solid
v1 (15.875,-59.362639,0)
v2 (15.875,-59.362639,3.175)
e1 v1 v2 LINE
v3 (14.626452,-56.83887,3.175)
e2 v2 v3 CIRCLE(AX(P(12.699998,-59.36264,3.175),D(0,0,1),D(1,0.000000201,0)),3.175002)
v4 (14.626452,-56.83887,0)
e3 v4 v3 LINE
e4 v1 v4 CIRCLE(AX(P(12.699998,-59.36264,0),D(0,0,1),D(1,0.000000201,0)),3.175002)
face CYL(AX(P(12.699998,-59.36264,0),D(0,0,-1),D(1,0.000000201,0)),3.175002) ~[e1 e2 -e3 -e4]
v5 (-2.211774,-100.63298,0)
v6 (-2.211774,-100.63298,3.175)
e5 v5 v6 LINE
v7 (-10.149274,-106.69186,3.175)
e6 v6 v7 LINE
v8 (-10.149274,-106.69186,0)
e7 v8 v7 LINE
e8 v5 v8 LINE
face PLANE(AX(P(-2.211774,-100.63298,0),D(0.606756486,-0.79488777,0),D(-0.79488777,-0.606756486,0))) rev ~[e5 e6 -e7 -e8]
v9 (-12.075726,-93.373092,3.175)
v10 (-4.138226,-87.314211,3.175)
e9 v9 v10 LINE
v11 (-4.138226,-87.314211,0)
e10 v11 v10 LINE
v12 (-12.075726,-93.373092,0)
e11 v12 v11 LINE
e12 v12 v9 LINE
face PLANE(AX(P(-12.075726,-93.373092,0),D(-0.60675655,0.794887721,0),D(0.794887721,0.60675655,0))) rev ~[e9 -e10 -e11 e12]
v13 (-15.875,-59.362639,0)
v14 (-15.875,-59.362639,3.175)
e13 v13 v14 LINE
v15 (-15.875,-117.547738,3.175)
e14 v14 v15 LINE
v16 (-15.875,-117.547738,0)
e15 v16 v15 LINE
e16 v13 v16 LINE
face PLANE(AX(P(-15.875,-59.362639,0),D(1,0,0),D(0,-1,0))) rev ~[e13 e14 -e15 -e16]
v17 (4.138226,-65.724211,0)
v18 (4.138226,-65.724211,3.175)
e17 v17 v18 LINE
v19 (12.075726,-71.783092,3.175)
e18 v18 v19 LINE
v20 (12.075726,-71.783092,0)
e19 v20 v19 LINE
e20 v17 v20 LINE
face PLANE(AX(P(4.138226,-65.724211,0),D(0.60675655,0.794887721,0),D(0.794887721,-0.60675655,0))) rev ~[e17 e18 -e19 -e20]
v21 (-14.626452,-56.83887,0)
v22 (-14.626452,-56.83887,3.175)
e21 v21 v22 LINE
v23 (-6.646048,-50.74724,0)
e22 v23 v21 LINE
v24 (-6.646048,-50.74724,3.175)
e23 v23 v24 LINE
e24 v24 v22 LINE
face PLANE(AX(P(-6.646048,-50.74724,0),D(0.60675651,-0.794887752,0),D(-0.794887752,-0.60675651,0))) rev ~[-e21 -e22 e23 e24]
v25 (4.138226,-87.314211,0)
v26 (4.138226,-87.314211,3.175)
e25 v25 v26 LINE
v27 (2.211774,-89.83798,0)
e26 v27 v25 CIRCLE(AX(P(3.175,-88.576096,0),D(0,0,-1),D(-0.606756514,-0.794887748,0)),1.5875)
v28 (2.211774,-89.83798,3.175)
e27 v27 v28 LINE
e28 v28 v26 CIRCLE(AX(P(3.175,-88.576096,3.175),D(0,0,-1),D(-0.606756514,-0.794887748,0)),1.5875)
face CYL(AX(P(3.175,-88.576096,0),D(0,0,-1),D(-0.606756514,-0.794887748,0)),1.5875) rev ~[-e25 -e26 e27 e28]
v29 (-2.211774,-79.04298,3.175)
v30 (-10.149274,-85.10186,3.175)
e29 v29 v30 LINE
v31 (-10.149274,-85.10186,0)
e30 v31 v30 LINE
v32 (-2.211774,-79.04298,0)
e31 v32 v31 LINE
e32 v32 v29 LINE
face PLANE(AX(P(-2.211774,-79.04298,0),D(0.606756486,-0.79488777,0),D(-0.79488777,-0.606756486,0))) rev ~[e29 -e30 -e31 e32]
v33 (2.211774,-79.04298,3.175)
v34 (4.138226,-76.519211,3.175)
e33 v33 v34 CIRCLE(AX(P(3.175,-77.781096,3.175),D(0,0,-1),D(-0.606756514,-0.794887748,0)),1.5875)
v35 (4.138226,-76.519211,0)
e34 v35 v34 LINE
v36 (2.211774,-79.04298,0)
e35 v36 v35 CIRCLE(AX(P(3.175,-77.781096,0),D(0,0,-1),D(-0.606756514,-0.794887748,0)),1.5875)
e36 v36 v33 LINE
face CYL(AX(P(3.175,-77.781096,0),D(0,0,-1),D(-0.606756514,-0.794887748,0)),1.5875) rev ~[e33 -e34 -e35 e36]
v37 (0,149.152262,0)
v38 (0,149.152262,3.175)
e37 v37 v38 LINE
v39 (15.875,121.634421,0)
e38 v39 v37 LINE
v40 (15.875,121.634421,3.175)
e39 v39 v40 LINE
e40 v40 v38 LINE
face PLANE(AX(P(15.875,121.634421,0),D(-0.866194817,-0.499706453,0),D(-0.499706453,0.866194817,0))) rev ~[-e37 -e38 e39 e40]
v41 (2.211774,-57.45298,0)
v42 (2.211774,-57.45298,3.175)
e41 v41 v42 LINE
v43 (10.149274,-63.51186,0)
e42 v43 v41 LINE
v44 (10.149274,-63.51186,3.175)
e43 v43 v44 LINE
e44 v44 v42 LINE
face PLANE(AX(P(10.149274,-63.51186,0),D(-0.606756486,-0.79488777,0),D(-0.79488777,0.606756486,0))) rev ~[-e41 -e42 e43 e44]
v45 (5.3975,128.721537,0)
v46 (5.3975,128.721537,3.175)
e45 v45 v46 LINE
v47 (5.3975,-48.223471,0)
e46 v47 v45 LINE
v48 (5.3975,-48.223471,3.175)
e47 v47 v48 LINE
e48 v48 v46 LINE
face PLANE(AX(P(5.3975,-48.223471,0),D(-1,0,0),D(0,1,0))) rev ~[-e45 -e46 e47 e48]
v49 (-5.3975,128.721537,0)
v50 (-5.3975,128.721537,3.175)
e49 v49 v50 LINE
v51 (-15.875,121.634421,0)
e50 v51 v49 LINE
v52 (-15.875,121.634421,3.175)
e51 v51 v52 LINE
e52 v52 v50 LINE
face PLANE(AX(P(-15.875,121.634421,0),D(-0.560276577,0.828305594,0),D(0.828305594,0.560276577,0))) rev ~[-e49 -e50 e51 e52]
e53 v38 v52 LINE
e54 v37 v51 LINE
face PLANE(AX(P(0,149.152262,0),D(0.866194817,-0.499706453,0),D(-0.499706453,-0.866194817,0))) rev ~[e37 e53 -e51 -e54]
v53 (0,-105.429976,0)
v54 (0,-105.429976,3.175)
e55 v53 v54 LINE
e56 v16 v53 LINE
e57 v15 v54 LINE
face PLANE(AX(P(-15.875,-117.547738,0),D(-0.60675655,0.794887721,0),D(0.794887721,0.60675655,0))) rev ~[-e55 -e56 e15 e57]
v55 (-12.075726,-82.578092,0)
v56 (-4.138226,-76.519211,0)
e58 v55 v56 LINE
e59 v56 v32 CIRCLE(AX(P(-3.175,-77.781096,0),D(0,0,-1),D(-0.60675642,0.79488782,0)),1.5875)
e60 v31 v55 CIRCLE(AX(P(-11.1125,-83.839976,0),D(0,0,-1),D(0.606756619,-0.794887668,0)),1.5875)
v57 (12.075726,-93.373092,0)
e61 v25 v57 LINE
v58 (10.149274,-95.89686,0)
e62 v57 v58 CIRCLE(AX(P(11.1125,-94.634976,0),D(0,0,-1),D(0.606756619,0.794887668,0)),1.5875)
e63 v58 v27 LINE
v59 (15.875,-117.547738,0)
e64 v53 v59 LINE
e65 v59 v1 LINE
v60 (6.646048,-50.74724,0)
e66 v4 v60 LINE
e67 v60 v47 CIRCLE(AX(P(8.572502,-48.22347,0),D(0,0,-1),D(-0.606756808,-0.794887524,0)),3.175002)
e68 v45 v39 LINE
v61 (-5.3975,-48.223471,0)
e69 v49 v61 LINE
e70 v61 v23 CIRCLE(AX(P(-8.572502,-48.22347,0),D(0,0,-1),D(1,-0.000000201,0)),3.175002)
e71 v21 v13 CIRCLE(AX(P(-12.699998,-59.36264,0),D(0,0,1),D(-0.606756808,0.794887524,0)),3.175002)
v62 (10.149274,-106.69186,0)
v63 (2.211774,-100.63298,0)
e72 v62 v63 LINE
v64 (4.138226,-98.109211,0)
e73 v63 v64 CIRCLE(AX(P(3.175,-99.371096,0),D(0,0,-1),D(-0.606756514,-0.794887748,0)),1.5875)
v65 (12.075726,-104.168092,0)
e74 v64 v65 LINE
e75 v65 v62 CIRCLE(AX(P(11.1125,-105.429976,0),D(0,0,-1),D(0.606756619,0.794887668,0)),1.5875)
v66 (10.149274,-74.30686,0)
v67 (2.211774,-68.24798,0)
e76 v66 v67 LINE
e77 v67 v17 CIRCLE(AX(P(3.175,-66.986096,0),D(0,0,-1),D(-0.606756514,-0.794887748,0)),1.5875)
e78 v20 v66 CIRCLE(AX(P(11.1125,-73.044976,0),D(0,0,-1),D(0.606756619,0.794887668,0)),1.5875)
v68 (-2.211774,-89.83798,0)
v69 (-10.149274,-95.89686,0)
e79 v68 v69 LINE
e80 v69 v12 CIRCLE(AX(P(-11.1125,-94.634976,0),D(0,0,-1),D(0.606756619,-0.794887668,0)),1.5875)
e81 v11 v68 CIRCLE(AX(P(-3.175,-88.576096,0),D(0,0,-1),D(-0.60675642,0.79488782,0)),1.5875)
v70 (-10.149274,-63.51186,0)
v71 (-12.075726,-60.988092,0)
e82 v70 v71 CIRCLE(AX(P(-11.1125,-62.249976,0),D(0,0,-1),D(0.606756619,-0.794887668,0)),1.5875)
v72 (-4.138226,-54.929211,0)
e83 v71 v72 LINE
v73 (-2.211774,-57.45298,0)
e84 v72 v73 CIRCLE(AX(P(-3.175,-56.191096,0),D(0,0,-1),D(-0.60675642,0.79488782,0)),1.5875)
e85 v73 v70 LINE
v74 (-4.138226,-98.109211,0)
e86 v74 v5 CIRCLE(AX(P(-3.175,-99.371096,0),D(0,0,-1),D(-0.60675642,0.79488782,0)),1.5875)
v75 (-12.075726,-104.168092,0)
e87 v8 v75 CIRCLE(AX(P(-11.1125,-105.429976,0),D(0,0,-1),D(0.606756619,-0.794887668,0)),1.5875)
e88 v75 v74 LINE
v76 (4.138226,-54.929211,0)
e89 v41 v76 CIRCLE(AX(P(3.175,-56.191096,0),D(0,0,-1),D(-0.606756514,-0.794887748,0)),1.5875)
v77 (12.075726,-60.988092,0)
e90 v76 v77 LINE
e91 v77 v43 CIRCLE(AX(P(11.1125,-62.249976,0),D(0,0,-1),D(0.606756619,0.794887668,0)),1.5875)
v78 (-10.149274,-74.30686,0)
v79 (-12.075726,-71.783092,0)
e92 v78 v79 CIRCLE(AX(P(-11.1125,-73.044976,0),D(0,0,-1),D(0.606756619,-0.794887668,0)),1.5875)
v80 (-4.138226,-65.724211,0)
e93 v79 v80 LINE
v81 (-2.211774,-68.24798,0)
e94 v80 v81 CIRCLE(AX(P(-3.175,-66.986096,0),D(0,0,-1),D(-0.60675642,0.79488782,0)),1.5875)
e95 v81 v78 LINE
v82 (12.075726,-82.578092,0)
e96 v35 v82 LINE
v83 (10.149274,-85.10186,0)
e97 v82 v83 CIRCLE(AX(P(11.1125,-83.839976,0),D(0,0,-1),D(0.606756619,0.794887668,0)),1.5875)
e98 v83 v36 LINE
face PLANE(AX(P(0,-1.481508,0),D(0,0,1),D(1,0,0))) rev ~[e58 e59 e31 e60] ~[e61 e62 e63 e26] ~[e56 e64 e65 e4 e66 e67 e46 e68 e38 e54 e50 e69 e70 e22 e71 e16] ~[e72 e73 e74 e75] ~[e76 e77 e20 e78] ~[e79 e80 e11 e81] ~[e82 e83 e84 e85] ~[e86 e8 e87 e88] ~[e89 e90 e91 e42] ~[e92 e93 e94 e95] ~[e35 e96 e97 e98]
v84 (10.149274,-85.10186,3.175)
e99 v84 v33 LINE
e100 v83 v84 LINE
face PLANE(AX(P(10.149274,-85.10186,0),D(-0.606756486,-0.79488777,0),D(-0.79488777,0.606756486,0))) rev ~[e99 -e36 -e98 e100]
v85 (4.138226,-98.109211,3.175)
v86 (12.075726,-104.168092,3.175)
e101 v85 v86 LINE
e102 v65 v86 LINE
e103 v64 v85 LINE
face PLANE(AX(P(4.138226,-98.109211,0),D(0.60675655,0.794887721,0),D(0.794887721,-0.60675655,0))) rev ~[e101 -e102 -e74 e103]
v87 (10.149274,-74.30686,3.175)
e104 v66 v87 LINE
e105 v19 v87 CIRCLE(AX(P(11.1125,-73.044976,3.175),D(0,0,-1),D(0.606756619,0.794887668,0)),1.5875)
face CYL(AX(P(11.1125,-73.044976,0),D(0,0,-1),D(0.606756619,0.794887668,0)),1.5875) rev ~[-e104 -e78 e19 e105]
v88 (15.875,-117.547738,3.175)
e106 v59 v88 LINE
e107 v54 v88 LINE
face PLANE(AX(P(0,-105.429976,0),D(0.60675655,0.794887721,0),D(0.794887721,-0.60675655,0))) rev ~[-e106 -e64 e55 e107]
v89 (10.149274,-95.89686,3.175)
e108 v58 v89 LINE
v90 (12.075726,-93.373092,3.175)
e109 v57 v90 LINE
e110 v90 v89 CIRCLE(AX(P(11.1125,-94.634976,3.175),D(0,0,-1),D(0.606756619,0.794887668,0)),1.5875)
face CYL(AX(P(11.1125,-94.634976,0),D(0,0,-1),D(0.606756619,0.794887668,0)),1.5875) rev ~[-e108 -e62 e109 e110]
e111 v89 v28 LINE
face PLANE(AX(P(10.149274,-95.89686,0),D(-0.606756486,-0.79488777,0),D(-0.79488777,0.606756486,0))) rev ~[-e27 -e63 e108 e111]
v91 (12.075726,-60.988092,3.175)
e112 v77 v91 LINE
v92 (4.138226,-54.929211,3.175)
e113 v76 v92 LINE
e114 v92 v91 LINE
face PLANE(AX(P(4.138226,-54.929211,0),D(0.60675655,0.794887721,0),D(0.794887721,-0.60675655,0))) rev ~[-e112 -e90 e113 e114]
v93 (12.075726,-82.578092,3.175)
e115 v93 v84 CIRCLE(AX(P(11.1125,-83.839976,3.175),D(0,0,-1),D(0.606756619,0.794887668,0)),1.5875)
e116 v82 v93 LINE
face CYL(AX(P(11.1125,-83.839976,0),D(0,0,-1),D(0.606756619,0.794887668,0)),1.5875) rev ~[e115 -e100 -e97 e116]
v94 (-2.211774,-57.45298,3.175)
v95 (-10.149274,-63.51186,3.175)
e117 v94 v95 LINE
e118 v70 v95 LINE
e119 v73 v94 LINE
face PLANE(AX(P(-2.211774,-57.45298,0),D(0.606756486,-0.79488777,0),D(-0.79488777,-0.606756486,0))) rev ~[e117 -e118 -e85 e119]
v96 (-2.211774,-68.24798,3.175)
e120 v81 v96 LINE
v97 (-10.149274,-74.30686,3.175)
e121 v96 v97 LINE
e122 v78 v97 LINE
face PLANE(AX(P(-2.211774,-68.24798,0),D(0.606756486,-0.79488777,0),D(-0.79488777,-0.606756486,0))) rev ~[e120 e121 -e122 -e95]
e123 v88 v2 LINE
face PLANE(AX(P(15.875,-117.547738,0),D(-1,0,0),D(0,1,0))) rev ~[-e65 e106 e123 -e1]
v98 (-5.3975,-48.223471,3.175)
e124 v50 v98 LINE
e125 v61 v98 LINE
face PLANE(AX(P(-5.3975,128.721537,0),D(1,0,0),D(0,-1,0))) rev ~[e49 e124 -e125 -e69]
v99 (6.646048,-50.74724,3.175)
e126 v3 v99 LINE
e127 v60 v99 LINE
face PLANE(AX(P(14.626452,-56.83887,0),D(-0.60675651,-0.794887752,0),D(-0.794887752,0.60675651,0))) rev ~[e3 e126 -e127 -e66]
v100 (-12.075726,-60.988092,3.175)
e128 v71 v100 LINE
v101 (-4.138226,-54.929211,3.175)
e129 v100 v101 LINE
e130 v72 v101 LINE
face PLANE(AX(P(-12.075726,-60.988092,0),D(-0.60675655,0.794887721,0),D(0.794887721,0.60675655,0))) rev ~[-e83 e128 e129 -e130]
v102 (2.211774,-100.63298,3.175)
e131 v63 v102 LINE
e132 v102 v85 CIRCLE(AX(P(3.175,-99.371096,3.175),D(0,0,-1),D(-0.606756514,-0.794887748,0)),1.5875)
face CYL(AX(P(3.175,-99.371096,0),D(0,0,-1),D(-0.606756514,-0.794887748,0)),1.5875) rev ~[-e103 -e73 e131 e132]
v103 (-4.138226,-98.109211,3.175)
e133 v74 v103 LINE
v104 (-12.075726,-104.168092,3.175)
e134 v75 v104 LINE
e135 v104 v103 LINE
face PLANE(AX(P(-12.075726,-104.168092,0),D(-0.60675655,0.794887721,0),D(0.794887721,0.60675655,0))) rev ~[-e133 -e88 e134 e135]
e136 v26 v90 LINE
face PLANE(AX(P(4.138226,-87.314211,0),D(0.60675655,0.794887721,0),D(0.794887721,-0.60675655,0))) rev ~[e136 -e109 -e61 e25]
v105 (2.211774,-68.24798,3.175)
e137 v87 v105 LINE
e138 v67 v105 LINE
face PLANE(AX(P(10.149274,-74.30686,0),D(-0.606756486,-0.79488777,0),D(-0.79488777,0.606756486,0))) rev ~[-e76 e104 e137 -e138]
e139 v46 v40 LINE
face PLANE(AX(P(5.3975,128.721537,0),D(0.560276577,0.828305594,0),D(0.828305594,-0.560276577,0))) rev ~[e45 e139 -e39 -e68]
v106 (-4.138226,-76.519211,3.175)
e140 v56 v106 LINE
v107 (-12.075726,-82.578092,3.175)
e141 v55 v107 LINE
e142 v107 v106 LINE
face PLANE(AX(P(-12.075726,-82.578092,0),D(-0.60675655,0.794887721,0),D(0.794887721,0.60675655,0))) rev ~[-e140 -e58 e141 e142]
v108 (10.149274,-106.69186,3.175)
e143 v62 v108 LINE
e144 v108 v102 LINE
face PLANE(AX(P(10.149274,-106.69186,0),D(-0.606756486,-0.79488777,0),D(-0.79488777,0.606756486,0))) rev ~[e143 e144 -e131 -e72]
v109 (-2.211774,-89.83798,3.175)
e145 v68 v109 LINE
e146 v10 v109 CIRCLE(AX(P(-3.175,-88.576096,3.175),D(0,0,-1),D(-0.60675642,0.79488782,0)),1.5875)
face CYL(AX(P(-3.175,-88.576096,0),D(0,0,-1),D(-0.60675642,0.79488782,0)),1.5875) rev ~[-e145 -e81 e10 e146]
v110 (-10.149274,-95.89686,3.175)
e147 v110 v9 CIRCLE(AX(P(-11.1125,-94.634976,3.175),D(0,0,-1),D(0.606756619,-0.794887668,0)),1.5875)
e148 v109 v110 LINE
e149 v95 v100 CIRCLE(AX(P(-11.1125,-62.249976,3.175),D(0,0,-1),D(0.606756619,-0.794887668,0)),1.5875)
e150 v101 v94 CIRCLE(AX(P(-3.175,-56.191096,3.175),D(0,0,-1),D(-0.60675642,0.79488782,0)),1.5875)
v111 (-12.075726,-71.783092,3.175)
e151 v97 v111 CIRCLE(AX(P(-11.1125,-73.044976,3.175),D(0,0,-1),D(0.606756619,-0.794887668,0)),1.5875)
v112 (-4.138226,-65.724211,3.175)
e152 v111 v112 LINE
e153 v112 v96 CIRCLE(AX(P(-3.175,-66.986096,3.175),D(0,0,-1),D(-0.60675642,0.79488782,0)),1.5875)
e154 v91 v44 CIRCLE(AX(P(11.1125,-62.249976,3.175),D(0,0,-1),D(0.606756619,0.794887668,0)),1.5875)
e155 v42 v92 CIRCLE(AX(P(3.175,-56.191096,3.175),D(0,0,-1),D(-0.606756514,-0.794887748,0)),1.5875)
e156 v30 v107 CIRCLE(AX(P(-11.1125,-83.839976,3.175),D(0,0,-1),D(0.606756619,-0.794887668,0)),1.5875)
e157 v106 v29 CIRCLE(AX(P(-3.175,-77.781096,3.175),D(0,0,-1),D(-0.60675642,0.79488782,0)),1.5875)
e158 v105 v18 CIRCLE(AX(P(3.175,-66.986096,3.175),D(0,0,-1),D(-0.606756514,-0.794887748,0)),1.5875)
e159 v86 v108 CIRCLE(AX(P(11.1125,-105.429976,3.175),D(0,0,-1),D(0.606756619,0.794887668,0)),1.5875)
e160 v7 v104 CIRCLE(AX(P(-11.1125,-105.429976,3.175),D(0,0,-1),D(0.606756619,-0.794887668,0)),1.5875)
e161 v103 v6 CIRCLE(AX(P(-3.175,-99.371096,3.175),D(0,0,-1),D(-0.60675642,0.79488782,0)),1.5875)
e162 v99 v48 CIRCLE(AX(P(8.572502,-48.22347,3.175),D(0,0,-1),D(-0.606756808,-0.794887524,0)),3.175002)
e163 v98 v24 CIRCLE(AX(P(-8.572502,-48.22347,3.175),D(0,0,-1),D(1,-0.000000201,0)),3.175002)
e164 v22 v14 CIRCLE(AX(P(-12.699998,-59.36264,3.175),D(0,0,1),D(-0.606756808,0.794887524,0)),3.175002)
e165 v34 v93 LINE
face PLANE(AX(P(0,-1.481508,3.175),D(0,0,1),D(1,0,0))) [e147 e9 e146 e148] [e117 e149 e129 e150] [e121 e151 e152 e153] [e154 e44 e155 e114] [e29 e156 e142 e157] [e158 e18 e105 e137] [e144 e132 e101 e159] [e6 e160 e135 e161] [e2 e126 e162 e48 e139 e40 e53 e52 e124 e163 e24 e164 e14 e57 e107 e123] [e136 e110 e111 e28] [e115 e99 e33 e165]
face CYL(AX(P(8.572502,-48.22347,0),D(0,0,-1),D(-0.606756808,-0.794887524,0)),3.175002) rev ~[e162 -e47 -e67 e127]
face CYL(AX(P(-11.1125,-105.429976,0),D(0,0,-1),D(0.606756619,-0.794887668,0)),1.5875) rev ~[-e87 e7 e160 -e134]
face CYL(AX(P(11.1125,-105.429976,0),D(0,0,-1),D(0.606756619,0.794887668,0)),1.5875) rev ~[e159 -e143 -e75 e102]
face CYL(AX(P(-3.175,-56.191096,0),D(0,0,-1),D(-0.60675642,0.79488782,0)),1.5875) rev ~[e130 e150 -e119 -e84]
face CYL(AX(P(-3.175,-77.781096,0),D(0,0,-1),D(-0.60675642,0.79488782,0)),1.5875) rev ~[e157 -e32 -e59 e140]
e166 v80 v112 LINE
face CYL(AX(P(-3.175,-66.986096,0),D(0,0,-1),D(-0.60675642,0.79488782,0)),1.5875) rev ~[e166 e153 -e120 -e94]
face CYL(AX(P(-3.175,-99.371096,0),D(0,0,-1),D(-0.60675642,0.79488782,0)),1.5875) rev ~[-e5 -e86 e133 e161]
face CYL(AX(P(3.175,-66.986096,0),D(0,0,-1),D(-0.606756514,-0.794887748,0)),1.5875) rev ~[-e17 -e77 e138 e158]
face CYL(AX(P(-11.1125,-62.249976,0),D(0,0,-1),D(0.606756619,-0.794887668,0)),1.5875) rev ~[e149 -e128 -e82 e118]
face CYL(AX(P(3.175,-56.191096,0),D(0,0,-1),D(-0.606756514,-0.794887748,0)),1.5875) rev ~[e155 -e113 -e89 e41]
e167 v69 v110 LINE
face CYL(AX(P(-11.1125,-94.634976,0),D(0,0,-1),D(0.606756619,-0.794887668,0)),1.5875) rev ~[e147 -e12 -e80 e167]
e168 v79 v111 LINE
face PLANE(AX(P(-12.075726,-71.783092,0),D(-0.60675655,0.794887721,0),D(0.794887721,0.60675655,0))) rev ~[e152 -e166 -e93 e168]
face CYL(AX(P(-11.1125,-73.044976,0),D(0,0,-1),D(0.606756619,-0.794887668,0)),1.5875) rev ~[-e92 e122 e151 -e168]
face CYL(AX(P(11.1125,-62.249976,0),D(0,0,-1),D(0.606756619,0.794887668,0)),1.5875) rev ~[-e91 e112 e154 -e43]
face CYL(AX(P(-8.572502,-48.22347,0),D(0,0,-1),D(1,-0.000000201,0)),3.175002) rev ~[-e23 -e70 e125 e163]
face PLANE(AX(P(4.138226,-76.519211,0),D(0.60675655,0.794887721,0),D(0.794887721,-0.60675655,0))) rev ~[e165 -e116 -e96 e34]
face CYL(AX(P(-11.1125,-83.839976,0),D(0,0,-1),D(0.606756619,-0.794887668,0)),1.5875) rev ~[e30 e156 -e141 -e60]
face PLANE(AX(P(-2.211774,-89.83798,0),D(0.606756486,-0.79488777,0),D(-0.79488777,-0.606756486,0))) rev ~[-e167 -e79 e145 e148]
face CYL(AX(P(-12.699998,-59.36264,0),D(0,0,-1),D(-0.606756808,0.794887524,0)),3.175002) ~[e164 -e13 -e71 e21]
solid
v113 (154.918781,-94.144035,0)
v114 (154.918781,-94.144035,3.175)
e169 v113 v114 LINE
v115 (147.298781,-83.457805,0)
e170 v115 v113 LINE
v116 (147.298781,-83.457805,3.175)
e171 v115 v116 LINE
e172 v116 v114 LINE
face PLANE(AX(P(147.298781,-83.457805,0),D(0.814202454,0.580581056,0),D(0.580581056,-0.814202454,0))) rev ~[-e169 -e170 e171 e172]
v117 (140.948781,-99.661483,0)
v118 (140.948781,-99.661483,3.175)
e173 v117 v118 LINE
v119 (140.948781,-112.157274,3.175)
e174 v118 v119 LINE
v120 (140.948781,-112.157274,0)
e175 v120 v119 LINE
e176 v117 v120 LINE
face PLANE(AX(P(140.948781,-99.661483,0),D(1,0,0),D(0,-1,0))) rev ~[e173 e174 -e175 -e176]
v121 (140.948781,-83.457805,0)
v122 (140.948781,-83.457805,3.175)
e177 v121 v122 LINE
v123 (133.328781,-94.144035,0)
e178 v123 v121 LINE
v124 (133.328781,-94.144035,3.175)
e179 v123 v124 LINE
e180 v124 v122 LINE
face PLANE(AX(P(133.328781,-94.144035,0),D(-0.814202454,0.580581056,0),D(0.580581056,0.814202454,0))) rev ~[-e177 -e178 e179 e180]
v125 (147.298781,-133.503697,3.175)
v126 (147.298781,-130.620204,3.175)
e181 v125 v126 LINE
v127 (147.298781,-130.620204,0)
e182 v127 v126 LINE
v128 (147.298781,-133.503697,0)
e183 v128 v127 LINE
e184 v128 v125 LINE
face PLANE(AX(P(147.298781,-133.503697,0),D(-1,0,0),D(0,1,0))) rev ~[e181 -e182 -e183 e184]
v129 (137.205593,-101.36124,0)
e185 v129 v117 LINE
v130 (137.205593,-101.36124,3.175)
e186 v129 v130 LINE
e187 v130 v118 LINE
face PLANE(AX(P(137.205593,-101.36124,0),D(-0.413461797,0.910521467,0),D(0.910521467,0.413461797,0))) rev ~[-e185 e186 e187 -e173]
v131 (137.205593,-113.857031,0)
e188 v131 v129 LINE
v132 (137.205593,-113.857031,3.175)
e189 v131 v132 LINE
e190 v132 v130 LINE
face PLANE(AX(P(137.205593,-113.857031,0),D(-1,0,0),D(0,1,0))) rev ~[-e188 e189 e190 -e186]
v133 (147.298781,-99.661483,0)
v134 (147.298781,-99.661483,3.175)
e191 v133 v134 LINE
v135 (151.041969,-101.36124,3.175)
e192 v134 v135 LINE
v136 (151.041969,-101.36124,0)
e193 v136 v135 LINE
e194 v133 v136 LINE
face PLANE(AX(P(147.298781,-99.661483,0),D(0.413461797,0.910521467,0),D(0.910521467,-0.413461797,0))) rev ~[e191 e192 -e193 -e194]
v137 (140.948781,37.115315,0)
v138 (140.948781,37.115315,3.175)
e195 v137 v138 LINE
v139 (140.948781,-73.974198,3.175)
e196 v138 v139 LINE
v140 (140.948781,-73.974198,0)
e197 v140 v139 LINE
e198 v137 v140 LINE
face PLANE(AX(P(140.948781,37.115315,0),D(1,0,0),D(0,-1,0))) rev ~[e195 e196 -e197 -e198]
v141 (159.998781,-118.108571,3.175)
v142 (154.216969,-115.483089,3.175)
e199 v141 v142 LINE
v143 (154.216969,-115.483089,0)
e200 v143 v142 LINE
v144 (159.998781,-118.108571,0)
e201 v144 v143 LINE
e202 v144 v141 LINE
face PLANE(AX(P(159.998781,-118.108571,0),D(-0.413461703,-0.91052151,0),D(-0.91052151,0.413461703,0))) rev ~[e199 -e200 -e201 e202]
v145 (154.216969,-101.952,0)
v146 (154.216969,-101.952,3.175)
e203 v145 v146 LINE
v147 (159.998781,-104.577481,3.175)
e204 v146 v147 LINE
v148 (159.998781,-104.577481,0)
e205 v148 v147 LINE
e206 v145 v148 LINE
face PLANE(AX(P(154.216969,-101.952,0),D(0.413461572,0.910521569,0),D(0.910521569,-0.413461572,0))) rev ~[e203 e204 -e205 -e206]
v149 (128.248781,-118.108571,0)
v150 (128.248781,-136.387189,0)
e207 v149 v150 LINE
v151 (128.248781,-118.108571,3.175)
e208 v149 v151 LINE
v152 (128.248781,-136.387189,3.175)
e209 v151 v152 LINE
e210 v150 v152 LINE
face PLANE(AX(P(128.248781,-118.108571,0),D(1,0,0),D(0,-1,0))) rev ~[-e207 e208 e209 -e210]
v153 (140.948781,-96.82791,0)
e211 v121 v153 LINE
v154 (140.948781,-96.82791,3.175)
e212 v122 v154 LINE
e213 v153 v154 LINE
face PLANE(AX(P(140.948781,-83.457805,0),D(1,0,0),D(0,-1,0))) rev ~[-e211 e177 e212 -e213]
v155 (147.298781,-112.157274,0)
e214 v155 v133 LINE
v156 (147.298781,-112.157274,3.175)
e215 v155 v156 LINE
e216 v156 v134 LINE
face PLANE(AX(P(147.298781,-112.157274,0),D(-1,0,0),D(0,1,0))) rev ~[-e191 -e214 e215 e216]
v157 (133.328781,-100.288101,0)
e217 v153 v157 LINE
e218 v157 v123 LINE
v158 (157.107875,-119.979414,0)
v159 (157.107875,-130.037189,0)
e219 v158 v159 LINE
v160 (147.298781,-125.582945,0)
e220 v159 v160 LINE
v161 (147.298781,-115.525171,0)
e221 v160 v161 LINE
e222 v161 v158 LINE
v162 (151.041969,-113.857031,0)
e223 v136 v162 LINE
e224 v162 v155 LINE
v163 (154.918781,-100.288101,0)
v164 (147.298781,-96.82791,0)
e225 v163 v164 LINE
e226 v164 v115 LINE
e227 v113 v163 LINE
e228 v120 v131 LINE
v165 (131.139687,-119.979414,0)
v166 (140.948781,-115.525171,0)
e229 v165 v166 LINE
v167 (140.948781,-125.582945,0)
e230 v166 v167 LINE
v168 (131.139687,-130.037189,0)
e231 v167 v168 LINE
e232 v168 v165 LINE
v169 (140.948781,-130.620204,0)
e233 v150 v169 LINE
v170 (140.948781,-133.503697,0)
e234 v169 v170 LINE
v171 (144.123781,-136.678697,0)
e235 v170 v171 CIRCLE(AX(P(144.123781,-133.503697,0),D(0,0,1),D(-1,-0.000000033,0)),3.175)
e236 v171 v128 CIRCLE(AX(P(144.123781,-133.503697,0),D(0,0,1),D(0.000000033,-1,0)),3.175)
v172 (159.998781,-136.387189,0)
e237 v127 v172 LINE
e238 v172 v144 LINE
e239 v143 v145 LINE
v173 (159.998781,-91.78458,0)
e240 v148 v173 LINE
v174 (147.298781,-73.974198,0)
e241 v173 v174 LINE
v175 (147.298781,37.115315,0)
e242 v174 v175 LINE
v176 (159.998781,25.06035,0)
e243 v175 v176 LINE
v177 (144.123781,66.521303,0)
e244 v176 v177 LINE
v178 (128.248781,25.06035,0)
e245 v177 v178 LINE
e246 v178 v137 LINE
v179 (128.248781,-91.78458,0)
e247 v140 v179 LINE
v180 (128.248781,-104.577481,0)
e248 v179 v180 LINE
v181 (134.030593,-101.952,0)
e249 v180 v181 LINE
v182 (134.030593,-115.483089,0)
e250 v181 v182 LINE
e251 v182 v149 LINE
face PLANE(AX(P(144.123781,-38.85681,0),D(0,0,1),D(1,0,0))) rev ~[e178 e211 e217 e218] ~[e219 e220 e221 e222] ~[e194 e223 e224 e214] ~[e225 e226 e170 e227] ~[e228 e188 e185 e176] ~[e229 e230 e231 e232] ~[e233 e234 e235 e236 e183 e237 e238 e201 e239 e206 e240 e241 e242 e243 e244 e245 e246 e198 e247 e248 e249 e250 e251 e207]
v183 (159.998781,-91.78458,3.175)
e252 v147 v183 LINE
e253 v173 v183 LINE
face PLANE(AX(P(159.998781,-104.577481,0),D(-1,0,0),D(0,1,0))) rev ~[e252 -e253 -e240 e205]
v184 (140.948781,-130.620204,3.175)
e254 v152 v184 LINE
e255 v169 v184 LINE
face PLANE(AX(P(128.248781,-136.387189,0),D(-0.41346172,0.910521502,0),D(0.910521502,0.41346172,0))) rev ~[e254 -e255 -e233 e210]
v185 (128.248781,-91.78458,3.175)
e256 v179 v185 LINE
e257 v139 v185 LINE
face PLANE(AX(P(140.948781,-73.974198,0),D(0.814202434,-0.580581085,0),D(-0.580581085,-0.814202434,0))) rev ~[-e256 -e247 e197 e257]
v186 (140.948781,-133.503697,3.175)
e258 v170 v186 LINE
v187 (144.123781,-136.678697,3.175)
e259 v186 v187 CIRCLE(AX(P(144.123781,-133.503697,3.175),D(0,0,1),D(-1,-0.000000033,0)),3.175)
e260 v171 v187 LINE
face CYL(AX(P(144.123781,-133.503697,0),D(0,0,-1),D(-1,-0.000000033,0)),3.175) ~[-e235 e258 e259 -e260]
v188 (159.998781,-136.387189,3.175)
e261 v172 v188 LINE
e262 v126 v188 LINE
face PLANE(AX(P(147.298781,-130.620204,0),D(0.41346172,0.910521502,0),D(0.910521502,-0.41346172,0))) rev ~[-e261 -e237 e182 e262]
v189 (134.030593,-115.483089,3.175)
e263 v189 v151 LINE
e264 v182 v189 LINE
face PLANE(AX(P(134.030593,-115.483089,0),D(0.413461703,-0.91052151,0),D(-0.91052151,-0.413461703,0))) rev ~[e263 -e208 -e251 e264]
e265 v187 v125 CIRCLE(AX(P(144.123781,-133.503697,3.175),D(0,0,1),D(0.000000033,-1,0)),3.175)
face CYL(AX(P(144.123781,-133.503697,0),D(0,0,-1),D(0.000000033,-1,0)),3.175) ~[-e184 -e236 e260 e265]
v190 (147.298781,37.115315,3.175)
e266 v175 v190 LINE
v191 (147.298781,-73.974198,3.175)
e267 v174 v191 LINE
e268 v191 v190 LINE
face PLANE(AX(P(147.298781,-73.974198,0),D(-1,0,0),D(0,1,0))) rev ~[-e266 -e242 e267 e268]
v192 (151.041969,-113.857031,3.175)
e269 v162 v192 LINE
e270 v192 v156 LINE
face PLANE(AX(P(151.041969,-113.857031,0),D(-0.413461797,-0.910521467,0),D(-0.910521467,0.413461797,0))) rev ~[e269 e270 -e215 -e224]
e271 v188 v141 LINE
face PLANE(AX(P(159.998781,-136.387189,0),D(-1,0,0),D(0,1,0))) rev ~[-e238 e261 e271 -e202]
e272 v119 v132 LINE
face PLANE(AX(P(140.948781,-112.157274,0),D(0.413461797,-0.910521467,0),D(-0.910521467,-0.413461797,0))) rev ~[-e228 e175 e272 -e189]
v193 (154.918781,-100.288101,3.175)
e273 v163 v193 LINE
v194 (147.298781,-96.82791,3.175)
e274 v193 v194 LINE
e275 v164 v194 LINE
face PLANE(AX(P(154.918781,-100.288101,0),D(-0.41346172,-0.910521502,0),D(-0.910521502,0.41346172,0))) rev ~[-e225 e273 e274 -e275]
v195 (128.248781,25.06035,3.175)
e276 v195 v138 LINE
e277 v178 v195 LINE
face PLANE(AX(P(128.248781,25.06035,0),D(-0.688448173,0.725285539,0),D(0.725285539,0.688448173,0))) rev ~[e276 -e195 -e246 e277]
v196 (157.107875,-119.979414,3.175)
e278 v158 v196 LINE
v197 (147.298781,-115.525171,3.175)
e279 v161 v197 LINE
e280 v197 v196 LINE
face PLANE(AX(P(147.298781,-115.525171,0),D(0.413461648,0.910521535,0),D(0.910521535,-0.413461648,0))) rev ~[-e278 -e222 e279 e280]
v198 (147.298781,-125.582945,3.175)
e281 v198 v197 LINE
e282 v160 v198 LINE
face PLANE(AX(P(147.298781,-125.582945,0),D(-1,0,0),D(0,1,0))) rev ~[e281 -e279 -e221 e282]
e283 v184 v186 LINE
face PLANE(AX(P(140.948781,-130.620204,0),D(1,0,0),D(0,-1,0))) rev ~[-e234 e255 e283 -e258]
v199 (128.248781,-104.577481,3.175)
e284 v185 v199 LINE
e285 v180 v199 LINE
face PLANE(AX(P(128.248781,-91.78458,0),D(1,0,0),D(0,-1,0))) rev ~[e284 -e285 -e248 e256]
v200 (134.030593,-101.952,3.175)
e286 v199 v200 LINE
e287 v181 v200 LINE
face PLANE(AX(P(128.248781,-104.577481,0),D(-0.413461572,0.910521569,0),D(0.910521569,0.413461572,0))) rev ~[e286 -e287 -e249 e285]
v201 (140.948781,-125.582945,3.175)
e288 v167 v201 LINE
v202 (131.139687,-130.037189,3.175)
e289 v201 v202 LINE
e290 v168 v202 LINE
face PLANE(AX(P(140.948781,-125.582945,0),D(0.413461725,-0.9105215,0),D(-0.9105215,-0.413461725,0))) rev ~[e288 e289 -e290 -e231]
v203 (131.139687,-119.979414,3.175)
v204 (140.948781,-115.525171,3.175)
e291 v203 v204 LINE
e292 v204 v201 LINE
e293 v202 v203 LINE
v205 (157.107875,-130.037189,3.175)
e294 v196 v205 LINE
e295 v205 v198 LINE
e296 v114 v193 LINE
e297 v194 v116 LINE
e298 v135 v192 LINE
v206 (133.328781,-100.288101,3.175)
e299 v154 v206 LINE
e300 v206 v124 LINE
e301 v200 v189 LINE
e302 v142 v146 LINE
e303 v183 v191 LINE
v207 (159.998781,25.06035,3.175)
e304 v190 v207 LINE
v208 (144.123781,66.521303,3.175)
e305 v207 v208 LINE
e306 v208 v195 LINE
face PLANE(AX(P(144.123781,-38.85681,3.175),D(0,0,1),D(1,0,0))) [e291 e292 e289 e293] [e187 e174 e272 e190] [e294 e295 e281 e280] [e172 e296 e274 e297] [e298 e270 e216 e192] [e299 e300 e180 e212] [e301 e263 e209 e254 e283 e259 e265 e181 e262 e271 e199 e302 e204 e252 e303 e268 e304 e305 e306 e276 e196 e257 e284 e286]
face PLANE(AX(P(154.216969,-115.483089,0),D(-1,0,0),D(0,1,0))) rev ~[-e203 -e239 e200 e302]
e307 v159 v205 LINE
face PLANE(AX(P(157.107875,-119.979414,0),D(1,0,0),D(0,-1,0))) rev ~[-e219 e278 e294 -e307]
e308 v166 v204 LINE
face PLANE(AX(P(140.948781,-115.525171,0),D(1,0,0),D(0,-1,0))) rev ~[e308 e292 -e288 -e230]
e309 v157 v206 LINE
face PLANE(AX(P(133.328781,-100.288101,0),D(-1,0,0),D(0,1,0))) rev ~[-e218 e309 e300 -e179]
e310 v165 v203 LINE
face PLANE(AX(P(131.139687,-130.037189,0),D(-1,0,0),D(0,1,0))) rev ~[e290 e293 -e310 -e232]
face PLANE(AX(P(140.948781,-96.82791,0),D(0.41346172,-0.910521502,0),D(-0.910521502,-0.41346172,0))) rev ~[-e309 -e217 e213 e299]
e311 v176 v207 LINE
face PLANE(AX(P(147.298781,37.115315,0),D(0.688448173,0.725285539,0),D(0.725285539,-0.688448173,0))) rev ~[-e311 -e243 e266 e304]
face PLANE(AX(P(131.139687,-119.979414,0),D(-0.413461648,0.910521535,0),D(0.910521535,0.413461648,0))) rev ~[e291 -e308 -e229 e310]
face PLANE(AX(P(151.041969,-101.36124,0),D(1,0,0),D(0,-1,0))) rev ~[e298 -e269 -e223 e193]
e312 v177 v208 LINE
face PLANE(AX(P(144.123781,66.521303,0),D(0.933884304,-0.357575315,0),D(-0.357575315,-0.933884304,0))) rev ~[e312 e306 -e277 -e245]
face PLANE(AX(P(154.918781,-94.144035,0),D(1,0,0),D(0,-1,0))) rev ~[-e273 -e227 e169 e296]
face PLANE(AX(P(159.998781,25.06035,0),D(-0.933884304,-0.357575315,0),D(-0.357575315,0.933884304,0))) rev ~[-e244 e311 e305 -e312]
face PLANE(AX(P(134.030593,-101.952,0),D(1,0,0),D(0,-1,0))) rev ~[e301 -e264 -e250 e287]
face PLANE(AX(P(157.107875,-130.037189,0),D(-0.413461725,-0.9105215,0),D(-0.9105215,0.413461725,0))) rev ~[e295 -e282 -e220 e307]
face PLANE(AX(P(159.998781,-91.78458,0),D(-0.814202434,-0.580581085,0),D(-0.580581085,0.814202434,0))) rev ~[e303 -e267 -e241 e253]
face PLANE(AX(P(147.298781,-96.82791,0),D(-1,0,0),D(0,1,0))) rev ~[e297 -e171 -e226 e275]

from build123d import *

# Parameters (mm, degrees)
F1_DEPTH = 3.175
F3_DEPTH = 3.175


with BuildPart() as f1:
    # F0 (on Top) → F1 (new body)
    with BuildSketch(Plane.XY):
        with BuildLine():
            Line((5.3975, 128.721537), (-5.3975, 128.721537))
            Line((-5.3975, 128.721537), (-5.3975, -48.223471))
            ThreePointArc((-5.3975, -48.223471), (-5.726704, -49.631331), (-6.646048, -50.74724))
            Line((-6.646048, -50.74724), (-14.626452, -56.83887))
            ThreePointArc((-14.626452, -56.83887), (-15.545796, -57.954779), (-15.875, -59.362639))
            Line((-15.875, -59.362639), (-15.875, -117.547738))
            Line((-15.875, -117.547738), (0, -105.429976))
            Line((0, -105.429976), (15.875, -117.547738))
            Line((15.875, -117.547738), (15.875, -59.362639))
            ThreePointArc((15.875, -59.362639), (15.545796, -57.954779), (14.626452, -56.83887))
            Line((14.626452, -56.83887), (6.646048, -50.74724))
            ThreePointArc((6.646048, -50.74724), (5.726704, -49.631331), (5.3975, -48.223471))
            Line((5.3975, -48.223471), (5.3975, 128.721537))
        make_face()
        with BuildLine():
            Line((-12.075726, -104.168092), (-4.138226, -98.109211))
            ThreePointArc((-4.138226, -98.109211), (-1.913116, -98.407869), (-2.211774, -100.63298))
            Line((-2.211774, -100.63298), (-10.149274, -106.69186))
            ThreePointArc((-10.149274, -106.69186), (-12.374384, -106.393202), (-12.075726, -104.168092))
        make_face(mode=Mode.SUBTRACT)
        with BuildLine():
            Line((-12.075726, -93.373092), (-4.138226, -87.314211))
            ThreePointArc((-4.138226, -87.314211), (-1.913116, -87.612869), (-2.211774, -89.83798))
            Line((-2.211774, -89.83798), (-10.149274, -95.89686))
            ThreePointArc((-10.149274, -95.89686), (-12.374384, -95.598202), (-12.075726, -93.373092))
        make_face(mode=Mode.SUBTRACT)
        with BuildLine():
            Line((-12.075726, -82.578092), (-4.138226, -76.519211))
            ThreePointArc((-4.138226, -76.519211), (-1.913116, -76.817869), (-2.211774, -79.04298))
            Line((-2.211774, -79.04298), (-10.149274, -85.10186))
            ThreePointArc((-10.149274, -85.10186), (-12.374384, -84.803202), (-12.075726, -82.578092))
        make_face(mode=Mode.SUBTRACT)
        with BuildLine():
            Line((-12.075726, -71.783092), (-4.138226, -65.724211))
            ThreePointArc((-4.138226, -65.724211), (-1.913116, -66.022869), (-2.211774, -68.24798))
            Line((-2.211774, -68.24798), (-10.149274, -74.30686))
            ThreePointArc((-10.149274, -74.30686), (-12.374384, -74.008202), (-12.075726, -71.783092))
        make_face(mode=Mode.SUBTRACT)
        with BuildLine():
            Line((-12.075726, -60.988092), (-4.138226, -54.929211))
            ThreePointArc((-4.138226, -54.929211), (-1.913116, -55.227869), (-2.211774, -57.45298))
            Line((-2.211774, -57.45298), (-10.149274, -63.51186))
            ThreePointArc((-10.149274, -63.51186), (-12.374384, -63.213202), (-12.075726, -60.988092))
        make_face(mode=Mode.SUBTRACT)
        with BuildLine():
            ThreePointArc((2.211774, -100.63298), (1.913116, -98.407869), (4.138226, -98.109211))
            Line((4.138226, -98.109211), (12.075726, -104.168092))
            ThreePointArc((12.075726, -104.168092), (12.374384, -106.393202), (10.149274, -106.69186))
            Line((10.149274, -106.69186), (2.211774, -100.63298))
        make_face(mode=Mode.SUBTRACT)
        with BuildLine():
            ThreePointArc((2.211774, -89.83798), (1.913116, -87.612869), (4.138226, -87.314211))
            Line((4.138226, -87.314211), (12.075726, -93.373092))
            ThreePointArc((12.075726, -93.373092), (12.374384, -95.598202), (10.149274, -95.89686))
            Line((10.149274, -95.89686), (2.211774, -89.83798))
        make_face(mode=Mode.SUBTRACT)
        with BuildLine():
            ThreePointArc((12.075726, -82.578092), (12.374384, -84.803202), (10.149274, -85.10186))
            Line((10.149274, -85.10186), (2.211774, -79.04298))
            ThreePointArc((2.211774, -79.04298), (1.913116, -76.817869), (4.138226, -76.519211))
            Line((4.138226, -76.519211), (12.075726, -82.578092))
        make_face(mode=Mode.SUBTRACT)
        with BuildLine():
            ThreePointArc((2.211774, -68.24798), (1.913116, -66.022869), (4.138226, -65.724211))
            Line((4.138226, -65.724211), (12.075726, -71.783092))
            ThreePointArc((12.075726, -71.783092), (12.374384, -74.008202), (10.149274, -74.30686))
            Line((10.149274, -74.30686), (2.211774, -68.24798))
        make_face(mode=Mode.SUBTRACT)
        with BuildLine():
            ThreePointArc((12.075726, -60.988092), (12.374384, -63.213202), (10.149274, -63.51186))
            Line((10.149274, -63.51186), (2.211774, -57.45298))
            ThreePointArc((2.211774, -57.45298), (1.913116, -55.227869), (4.138226, -54.929211))
            Line((4.138226, -54.929211), (12.075726, -60.988092))
        make_face(mode=Mode.SUBTRACT)
        Polygon((15.875, 121.634421), (0, 149.152262), (-15.875, 121.634421), (-5.3975, 128.721537), (5.3975, 128.721537), align=None)
    extrude(amount=F1_DEPTH)


with BuildPart() as f3:
    # F2 (on Top) → F3 (new body)
    with BuildSketch(Plane.XY):
        with BuildLine():
            Line((128.248781, 25.06035), (140.948781, 37.115315))
            Line((140.948781, 37.115315), (140.948781, -73.974198))
            Line((140.948781, -73.974198), (128.248781, -91.78458))
            Line((128.248781, -91.78458), (128.248781, -104.577481))
            Line((128.248781, -104.577481), (134.030593, -101.952))
            Line((134.030593, -101.952), (134.030593, -115.483089))
            Line((134.030593, -115.483089), (128.248781, -118.108571))
            Line((128.248781, -118.108571), (128.248781, -136.387189))
            Line((128.248781, -136.387189), (140.948781, -130.620204))
            Line((140.948781, -130.620204), (140.948781, -133.503697))
            ThreePointArc((140.948781, -133.503697), (141.878717, -135.748761), (144.123781, -136.678697))
            ThreePointArc((144.123781, -136.678697), (146.368845, -135.748761), (147.298781, -133.503697))
            Line((147.298781, -133.503697), (147.298781, -130.620204))
            Line((147.298781, -130.620204), (159.998781, -136.387189))
            Line((159.998781, -136.387189), (159.998781, -118.108571))
            Line((159.998781, -118.108571), (154.216969, -115.483089))
            Line((154.216969, -115.483089), (154.216969, -101.952))
            Line((154.216969, -101.952), (159.998781, -104.577481))
            Line((159.998781, -104.577481), (159.998781, -91.78458))
            Line((159.998781, -91.78458), (147.298781, -73.974198))
            Line((147.298781, -73.974198), (147.298781, 37.115315))
            Line((147.298781, 37.115315), (159.998781, 25.06035))
            Line((159.998781, 25.06035), (144.123781, 66.521303))
            Line((144.123781, 66.521303), (128.248781, 25.06035))
        make_face()
        Polygon((131.139687, -119.979414), (140.948781, -115.525171), (140.948781, -125.582945), (131.139687, -130.037189), align=None, mode=Mode.SUBTRACT)
        Polygon((137.205593, -113.857031), (137.205593, -101.36124), (140.948781, -99.661483), (140.948781, -112.157274), align=None, mode=Mode.SUBTRACT)
        Polygon((133.328781, -94.144035), (140.948781, -83.457805), (140.948781, -96.82791), (133.328781, -100.288101), align=None, mode=Mode.SUBTRACT)
        Polygon((151.041969, -113.857031), (147.298781, -112.157274), (147.298781, -99.661483), (151.041969, -101.36124), align=None, mode=Mode.SUBTRACT)
        Polygon((154.918781, -100.288101), (147.298781, -96.82791), (147.298781, -83.457805), (154.918781, -94.144035), align=None, mode=Mode.SUBTRACT)
        Polygon((157.107875, -119.979414), (157.107875, -130.037189), (147.298781, -125.582945), (147.298781, -115.525171), align=None, mode=Mode.SUBTRACT)
    extrude(amount=F3_DEPTH)


solid = Compound([f1.part, f3.part])
